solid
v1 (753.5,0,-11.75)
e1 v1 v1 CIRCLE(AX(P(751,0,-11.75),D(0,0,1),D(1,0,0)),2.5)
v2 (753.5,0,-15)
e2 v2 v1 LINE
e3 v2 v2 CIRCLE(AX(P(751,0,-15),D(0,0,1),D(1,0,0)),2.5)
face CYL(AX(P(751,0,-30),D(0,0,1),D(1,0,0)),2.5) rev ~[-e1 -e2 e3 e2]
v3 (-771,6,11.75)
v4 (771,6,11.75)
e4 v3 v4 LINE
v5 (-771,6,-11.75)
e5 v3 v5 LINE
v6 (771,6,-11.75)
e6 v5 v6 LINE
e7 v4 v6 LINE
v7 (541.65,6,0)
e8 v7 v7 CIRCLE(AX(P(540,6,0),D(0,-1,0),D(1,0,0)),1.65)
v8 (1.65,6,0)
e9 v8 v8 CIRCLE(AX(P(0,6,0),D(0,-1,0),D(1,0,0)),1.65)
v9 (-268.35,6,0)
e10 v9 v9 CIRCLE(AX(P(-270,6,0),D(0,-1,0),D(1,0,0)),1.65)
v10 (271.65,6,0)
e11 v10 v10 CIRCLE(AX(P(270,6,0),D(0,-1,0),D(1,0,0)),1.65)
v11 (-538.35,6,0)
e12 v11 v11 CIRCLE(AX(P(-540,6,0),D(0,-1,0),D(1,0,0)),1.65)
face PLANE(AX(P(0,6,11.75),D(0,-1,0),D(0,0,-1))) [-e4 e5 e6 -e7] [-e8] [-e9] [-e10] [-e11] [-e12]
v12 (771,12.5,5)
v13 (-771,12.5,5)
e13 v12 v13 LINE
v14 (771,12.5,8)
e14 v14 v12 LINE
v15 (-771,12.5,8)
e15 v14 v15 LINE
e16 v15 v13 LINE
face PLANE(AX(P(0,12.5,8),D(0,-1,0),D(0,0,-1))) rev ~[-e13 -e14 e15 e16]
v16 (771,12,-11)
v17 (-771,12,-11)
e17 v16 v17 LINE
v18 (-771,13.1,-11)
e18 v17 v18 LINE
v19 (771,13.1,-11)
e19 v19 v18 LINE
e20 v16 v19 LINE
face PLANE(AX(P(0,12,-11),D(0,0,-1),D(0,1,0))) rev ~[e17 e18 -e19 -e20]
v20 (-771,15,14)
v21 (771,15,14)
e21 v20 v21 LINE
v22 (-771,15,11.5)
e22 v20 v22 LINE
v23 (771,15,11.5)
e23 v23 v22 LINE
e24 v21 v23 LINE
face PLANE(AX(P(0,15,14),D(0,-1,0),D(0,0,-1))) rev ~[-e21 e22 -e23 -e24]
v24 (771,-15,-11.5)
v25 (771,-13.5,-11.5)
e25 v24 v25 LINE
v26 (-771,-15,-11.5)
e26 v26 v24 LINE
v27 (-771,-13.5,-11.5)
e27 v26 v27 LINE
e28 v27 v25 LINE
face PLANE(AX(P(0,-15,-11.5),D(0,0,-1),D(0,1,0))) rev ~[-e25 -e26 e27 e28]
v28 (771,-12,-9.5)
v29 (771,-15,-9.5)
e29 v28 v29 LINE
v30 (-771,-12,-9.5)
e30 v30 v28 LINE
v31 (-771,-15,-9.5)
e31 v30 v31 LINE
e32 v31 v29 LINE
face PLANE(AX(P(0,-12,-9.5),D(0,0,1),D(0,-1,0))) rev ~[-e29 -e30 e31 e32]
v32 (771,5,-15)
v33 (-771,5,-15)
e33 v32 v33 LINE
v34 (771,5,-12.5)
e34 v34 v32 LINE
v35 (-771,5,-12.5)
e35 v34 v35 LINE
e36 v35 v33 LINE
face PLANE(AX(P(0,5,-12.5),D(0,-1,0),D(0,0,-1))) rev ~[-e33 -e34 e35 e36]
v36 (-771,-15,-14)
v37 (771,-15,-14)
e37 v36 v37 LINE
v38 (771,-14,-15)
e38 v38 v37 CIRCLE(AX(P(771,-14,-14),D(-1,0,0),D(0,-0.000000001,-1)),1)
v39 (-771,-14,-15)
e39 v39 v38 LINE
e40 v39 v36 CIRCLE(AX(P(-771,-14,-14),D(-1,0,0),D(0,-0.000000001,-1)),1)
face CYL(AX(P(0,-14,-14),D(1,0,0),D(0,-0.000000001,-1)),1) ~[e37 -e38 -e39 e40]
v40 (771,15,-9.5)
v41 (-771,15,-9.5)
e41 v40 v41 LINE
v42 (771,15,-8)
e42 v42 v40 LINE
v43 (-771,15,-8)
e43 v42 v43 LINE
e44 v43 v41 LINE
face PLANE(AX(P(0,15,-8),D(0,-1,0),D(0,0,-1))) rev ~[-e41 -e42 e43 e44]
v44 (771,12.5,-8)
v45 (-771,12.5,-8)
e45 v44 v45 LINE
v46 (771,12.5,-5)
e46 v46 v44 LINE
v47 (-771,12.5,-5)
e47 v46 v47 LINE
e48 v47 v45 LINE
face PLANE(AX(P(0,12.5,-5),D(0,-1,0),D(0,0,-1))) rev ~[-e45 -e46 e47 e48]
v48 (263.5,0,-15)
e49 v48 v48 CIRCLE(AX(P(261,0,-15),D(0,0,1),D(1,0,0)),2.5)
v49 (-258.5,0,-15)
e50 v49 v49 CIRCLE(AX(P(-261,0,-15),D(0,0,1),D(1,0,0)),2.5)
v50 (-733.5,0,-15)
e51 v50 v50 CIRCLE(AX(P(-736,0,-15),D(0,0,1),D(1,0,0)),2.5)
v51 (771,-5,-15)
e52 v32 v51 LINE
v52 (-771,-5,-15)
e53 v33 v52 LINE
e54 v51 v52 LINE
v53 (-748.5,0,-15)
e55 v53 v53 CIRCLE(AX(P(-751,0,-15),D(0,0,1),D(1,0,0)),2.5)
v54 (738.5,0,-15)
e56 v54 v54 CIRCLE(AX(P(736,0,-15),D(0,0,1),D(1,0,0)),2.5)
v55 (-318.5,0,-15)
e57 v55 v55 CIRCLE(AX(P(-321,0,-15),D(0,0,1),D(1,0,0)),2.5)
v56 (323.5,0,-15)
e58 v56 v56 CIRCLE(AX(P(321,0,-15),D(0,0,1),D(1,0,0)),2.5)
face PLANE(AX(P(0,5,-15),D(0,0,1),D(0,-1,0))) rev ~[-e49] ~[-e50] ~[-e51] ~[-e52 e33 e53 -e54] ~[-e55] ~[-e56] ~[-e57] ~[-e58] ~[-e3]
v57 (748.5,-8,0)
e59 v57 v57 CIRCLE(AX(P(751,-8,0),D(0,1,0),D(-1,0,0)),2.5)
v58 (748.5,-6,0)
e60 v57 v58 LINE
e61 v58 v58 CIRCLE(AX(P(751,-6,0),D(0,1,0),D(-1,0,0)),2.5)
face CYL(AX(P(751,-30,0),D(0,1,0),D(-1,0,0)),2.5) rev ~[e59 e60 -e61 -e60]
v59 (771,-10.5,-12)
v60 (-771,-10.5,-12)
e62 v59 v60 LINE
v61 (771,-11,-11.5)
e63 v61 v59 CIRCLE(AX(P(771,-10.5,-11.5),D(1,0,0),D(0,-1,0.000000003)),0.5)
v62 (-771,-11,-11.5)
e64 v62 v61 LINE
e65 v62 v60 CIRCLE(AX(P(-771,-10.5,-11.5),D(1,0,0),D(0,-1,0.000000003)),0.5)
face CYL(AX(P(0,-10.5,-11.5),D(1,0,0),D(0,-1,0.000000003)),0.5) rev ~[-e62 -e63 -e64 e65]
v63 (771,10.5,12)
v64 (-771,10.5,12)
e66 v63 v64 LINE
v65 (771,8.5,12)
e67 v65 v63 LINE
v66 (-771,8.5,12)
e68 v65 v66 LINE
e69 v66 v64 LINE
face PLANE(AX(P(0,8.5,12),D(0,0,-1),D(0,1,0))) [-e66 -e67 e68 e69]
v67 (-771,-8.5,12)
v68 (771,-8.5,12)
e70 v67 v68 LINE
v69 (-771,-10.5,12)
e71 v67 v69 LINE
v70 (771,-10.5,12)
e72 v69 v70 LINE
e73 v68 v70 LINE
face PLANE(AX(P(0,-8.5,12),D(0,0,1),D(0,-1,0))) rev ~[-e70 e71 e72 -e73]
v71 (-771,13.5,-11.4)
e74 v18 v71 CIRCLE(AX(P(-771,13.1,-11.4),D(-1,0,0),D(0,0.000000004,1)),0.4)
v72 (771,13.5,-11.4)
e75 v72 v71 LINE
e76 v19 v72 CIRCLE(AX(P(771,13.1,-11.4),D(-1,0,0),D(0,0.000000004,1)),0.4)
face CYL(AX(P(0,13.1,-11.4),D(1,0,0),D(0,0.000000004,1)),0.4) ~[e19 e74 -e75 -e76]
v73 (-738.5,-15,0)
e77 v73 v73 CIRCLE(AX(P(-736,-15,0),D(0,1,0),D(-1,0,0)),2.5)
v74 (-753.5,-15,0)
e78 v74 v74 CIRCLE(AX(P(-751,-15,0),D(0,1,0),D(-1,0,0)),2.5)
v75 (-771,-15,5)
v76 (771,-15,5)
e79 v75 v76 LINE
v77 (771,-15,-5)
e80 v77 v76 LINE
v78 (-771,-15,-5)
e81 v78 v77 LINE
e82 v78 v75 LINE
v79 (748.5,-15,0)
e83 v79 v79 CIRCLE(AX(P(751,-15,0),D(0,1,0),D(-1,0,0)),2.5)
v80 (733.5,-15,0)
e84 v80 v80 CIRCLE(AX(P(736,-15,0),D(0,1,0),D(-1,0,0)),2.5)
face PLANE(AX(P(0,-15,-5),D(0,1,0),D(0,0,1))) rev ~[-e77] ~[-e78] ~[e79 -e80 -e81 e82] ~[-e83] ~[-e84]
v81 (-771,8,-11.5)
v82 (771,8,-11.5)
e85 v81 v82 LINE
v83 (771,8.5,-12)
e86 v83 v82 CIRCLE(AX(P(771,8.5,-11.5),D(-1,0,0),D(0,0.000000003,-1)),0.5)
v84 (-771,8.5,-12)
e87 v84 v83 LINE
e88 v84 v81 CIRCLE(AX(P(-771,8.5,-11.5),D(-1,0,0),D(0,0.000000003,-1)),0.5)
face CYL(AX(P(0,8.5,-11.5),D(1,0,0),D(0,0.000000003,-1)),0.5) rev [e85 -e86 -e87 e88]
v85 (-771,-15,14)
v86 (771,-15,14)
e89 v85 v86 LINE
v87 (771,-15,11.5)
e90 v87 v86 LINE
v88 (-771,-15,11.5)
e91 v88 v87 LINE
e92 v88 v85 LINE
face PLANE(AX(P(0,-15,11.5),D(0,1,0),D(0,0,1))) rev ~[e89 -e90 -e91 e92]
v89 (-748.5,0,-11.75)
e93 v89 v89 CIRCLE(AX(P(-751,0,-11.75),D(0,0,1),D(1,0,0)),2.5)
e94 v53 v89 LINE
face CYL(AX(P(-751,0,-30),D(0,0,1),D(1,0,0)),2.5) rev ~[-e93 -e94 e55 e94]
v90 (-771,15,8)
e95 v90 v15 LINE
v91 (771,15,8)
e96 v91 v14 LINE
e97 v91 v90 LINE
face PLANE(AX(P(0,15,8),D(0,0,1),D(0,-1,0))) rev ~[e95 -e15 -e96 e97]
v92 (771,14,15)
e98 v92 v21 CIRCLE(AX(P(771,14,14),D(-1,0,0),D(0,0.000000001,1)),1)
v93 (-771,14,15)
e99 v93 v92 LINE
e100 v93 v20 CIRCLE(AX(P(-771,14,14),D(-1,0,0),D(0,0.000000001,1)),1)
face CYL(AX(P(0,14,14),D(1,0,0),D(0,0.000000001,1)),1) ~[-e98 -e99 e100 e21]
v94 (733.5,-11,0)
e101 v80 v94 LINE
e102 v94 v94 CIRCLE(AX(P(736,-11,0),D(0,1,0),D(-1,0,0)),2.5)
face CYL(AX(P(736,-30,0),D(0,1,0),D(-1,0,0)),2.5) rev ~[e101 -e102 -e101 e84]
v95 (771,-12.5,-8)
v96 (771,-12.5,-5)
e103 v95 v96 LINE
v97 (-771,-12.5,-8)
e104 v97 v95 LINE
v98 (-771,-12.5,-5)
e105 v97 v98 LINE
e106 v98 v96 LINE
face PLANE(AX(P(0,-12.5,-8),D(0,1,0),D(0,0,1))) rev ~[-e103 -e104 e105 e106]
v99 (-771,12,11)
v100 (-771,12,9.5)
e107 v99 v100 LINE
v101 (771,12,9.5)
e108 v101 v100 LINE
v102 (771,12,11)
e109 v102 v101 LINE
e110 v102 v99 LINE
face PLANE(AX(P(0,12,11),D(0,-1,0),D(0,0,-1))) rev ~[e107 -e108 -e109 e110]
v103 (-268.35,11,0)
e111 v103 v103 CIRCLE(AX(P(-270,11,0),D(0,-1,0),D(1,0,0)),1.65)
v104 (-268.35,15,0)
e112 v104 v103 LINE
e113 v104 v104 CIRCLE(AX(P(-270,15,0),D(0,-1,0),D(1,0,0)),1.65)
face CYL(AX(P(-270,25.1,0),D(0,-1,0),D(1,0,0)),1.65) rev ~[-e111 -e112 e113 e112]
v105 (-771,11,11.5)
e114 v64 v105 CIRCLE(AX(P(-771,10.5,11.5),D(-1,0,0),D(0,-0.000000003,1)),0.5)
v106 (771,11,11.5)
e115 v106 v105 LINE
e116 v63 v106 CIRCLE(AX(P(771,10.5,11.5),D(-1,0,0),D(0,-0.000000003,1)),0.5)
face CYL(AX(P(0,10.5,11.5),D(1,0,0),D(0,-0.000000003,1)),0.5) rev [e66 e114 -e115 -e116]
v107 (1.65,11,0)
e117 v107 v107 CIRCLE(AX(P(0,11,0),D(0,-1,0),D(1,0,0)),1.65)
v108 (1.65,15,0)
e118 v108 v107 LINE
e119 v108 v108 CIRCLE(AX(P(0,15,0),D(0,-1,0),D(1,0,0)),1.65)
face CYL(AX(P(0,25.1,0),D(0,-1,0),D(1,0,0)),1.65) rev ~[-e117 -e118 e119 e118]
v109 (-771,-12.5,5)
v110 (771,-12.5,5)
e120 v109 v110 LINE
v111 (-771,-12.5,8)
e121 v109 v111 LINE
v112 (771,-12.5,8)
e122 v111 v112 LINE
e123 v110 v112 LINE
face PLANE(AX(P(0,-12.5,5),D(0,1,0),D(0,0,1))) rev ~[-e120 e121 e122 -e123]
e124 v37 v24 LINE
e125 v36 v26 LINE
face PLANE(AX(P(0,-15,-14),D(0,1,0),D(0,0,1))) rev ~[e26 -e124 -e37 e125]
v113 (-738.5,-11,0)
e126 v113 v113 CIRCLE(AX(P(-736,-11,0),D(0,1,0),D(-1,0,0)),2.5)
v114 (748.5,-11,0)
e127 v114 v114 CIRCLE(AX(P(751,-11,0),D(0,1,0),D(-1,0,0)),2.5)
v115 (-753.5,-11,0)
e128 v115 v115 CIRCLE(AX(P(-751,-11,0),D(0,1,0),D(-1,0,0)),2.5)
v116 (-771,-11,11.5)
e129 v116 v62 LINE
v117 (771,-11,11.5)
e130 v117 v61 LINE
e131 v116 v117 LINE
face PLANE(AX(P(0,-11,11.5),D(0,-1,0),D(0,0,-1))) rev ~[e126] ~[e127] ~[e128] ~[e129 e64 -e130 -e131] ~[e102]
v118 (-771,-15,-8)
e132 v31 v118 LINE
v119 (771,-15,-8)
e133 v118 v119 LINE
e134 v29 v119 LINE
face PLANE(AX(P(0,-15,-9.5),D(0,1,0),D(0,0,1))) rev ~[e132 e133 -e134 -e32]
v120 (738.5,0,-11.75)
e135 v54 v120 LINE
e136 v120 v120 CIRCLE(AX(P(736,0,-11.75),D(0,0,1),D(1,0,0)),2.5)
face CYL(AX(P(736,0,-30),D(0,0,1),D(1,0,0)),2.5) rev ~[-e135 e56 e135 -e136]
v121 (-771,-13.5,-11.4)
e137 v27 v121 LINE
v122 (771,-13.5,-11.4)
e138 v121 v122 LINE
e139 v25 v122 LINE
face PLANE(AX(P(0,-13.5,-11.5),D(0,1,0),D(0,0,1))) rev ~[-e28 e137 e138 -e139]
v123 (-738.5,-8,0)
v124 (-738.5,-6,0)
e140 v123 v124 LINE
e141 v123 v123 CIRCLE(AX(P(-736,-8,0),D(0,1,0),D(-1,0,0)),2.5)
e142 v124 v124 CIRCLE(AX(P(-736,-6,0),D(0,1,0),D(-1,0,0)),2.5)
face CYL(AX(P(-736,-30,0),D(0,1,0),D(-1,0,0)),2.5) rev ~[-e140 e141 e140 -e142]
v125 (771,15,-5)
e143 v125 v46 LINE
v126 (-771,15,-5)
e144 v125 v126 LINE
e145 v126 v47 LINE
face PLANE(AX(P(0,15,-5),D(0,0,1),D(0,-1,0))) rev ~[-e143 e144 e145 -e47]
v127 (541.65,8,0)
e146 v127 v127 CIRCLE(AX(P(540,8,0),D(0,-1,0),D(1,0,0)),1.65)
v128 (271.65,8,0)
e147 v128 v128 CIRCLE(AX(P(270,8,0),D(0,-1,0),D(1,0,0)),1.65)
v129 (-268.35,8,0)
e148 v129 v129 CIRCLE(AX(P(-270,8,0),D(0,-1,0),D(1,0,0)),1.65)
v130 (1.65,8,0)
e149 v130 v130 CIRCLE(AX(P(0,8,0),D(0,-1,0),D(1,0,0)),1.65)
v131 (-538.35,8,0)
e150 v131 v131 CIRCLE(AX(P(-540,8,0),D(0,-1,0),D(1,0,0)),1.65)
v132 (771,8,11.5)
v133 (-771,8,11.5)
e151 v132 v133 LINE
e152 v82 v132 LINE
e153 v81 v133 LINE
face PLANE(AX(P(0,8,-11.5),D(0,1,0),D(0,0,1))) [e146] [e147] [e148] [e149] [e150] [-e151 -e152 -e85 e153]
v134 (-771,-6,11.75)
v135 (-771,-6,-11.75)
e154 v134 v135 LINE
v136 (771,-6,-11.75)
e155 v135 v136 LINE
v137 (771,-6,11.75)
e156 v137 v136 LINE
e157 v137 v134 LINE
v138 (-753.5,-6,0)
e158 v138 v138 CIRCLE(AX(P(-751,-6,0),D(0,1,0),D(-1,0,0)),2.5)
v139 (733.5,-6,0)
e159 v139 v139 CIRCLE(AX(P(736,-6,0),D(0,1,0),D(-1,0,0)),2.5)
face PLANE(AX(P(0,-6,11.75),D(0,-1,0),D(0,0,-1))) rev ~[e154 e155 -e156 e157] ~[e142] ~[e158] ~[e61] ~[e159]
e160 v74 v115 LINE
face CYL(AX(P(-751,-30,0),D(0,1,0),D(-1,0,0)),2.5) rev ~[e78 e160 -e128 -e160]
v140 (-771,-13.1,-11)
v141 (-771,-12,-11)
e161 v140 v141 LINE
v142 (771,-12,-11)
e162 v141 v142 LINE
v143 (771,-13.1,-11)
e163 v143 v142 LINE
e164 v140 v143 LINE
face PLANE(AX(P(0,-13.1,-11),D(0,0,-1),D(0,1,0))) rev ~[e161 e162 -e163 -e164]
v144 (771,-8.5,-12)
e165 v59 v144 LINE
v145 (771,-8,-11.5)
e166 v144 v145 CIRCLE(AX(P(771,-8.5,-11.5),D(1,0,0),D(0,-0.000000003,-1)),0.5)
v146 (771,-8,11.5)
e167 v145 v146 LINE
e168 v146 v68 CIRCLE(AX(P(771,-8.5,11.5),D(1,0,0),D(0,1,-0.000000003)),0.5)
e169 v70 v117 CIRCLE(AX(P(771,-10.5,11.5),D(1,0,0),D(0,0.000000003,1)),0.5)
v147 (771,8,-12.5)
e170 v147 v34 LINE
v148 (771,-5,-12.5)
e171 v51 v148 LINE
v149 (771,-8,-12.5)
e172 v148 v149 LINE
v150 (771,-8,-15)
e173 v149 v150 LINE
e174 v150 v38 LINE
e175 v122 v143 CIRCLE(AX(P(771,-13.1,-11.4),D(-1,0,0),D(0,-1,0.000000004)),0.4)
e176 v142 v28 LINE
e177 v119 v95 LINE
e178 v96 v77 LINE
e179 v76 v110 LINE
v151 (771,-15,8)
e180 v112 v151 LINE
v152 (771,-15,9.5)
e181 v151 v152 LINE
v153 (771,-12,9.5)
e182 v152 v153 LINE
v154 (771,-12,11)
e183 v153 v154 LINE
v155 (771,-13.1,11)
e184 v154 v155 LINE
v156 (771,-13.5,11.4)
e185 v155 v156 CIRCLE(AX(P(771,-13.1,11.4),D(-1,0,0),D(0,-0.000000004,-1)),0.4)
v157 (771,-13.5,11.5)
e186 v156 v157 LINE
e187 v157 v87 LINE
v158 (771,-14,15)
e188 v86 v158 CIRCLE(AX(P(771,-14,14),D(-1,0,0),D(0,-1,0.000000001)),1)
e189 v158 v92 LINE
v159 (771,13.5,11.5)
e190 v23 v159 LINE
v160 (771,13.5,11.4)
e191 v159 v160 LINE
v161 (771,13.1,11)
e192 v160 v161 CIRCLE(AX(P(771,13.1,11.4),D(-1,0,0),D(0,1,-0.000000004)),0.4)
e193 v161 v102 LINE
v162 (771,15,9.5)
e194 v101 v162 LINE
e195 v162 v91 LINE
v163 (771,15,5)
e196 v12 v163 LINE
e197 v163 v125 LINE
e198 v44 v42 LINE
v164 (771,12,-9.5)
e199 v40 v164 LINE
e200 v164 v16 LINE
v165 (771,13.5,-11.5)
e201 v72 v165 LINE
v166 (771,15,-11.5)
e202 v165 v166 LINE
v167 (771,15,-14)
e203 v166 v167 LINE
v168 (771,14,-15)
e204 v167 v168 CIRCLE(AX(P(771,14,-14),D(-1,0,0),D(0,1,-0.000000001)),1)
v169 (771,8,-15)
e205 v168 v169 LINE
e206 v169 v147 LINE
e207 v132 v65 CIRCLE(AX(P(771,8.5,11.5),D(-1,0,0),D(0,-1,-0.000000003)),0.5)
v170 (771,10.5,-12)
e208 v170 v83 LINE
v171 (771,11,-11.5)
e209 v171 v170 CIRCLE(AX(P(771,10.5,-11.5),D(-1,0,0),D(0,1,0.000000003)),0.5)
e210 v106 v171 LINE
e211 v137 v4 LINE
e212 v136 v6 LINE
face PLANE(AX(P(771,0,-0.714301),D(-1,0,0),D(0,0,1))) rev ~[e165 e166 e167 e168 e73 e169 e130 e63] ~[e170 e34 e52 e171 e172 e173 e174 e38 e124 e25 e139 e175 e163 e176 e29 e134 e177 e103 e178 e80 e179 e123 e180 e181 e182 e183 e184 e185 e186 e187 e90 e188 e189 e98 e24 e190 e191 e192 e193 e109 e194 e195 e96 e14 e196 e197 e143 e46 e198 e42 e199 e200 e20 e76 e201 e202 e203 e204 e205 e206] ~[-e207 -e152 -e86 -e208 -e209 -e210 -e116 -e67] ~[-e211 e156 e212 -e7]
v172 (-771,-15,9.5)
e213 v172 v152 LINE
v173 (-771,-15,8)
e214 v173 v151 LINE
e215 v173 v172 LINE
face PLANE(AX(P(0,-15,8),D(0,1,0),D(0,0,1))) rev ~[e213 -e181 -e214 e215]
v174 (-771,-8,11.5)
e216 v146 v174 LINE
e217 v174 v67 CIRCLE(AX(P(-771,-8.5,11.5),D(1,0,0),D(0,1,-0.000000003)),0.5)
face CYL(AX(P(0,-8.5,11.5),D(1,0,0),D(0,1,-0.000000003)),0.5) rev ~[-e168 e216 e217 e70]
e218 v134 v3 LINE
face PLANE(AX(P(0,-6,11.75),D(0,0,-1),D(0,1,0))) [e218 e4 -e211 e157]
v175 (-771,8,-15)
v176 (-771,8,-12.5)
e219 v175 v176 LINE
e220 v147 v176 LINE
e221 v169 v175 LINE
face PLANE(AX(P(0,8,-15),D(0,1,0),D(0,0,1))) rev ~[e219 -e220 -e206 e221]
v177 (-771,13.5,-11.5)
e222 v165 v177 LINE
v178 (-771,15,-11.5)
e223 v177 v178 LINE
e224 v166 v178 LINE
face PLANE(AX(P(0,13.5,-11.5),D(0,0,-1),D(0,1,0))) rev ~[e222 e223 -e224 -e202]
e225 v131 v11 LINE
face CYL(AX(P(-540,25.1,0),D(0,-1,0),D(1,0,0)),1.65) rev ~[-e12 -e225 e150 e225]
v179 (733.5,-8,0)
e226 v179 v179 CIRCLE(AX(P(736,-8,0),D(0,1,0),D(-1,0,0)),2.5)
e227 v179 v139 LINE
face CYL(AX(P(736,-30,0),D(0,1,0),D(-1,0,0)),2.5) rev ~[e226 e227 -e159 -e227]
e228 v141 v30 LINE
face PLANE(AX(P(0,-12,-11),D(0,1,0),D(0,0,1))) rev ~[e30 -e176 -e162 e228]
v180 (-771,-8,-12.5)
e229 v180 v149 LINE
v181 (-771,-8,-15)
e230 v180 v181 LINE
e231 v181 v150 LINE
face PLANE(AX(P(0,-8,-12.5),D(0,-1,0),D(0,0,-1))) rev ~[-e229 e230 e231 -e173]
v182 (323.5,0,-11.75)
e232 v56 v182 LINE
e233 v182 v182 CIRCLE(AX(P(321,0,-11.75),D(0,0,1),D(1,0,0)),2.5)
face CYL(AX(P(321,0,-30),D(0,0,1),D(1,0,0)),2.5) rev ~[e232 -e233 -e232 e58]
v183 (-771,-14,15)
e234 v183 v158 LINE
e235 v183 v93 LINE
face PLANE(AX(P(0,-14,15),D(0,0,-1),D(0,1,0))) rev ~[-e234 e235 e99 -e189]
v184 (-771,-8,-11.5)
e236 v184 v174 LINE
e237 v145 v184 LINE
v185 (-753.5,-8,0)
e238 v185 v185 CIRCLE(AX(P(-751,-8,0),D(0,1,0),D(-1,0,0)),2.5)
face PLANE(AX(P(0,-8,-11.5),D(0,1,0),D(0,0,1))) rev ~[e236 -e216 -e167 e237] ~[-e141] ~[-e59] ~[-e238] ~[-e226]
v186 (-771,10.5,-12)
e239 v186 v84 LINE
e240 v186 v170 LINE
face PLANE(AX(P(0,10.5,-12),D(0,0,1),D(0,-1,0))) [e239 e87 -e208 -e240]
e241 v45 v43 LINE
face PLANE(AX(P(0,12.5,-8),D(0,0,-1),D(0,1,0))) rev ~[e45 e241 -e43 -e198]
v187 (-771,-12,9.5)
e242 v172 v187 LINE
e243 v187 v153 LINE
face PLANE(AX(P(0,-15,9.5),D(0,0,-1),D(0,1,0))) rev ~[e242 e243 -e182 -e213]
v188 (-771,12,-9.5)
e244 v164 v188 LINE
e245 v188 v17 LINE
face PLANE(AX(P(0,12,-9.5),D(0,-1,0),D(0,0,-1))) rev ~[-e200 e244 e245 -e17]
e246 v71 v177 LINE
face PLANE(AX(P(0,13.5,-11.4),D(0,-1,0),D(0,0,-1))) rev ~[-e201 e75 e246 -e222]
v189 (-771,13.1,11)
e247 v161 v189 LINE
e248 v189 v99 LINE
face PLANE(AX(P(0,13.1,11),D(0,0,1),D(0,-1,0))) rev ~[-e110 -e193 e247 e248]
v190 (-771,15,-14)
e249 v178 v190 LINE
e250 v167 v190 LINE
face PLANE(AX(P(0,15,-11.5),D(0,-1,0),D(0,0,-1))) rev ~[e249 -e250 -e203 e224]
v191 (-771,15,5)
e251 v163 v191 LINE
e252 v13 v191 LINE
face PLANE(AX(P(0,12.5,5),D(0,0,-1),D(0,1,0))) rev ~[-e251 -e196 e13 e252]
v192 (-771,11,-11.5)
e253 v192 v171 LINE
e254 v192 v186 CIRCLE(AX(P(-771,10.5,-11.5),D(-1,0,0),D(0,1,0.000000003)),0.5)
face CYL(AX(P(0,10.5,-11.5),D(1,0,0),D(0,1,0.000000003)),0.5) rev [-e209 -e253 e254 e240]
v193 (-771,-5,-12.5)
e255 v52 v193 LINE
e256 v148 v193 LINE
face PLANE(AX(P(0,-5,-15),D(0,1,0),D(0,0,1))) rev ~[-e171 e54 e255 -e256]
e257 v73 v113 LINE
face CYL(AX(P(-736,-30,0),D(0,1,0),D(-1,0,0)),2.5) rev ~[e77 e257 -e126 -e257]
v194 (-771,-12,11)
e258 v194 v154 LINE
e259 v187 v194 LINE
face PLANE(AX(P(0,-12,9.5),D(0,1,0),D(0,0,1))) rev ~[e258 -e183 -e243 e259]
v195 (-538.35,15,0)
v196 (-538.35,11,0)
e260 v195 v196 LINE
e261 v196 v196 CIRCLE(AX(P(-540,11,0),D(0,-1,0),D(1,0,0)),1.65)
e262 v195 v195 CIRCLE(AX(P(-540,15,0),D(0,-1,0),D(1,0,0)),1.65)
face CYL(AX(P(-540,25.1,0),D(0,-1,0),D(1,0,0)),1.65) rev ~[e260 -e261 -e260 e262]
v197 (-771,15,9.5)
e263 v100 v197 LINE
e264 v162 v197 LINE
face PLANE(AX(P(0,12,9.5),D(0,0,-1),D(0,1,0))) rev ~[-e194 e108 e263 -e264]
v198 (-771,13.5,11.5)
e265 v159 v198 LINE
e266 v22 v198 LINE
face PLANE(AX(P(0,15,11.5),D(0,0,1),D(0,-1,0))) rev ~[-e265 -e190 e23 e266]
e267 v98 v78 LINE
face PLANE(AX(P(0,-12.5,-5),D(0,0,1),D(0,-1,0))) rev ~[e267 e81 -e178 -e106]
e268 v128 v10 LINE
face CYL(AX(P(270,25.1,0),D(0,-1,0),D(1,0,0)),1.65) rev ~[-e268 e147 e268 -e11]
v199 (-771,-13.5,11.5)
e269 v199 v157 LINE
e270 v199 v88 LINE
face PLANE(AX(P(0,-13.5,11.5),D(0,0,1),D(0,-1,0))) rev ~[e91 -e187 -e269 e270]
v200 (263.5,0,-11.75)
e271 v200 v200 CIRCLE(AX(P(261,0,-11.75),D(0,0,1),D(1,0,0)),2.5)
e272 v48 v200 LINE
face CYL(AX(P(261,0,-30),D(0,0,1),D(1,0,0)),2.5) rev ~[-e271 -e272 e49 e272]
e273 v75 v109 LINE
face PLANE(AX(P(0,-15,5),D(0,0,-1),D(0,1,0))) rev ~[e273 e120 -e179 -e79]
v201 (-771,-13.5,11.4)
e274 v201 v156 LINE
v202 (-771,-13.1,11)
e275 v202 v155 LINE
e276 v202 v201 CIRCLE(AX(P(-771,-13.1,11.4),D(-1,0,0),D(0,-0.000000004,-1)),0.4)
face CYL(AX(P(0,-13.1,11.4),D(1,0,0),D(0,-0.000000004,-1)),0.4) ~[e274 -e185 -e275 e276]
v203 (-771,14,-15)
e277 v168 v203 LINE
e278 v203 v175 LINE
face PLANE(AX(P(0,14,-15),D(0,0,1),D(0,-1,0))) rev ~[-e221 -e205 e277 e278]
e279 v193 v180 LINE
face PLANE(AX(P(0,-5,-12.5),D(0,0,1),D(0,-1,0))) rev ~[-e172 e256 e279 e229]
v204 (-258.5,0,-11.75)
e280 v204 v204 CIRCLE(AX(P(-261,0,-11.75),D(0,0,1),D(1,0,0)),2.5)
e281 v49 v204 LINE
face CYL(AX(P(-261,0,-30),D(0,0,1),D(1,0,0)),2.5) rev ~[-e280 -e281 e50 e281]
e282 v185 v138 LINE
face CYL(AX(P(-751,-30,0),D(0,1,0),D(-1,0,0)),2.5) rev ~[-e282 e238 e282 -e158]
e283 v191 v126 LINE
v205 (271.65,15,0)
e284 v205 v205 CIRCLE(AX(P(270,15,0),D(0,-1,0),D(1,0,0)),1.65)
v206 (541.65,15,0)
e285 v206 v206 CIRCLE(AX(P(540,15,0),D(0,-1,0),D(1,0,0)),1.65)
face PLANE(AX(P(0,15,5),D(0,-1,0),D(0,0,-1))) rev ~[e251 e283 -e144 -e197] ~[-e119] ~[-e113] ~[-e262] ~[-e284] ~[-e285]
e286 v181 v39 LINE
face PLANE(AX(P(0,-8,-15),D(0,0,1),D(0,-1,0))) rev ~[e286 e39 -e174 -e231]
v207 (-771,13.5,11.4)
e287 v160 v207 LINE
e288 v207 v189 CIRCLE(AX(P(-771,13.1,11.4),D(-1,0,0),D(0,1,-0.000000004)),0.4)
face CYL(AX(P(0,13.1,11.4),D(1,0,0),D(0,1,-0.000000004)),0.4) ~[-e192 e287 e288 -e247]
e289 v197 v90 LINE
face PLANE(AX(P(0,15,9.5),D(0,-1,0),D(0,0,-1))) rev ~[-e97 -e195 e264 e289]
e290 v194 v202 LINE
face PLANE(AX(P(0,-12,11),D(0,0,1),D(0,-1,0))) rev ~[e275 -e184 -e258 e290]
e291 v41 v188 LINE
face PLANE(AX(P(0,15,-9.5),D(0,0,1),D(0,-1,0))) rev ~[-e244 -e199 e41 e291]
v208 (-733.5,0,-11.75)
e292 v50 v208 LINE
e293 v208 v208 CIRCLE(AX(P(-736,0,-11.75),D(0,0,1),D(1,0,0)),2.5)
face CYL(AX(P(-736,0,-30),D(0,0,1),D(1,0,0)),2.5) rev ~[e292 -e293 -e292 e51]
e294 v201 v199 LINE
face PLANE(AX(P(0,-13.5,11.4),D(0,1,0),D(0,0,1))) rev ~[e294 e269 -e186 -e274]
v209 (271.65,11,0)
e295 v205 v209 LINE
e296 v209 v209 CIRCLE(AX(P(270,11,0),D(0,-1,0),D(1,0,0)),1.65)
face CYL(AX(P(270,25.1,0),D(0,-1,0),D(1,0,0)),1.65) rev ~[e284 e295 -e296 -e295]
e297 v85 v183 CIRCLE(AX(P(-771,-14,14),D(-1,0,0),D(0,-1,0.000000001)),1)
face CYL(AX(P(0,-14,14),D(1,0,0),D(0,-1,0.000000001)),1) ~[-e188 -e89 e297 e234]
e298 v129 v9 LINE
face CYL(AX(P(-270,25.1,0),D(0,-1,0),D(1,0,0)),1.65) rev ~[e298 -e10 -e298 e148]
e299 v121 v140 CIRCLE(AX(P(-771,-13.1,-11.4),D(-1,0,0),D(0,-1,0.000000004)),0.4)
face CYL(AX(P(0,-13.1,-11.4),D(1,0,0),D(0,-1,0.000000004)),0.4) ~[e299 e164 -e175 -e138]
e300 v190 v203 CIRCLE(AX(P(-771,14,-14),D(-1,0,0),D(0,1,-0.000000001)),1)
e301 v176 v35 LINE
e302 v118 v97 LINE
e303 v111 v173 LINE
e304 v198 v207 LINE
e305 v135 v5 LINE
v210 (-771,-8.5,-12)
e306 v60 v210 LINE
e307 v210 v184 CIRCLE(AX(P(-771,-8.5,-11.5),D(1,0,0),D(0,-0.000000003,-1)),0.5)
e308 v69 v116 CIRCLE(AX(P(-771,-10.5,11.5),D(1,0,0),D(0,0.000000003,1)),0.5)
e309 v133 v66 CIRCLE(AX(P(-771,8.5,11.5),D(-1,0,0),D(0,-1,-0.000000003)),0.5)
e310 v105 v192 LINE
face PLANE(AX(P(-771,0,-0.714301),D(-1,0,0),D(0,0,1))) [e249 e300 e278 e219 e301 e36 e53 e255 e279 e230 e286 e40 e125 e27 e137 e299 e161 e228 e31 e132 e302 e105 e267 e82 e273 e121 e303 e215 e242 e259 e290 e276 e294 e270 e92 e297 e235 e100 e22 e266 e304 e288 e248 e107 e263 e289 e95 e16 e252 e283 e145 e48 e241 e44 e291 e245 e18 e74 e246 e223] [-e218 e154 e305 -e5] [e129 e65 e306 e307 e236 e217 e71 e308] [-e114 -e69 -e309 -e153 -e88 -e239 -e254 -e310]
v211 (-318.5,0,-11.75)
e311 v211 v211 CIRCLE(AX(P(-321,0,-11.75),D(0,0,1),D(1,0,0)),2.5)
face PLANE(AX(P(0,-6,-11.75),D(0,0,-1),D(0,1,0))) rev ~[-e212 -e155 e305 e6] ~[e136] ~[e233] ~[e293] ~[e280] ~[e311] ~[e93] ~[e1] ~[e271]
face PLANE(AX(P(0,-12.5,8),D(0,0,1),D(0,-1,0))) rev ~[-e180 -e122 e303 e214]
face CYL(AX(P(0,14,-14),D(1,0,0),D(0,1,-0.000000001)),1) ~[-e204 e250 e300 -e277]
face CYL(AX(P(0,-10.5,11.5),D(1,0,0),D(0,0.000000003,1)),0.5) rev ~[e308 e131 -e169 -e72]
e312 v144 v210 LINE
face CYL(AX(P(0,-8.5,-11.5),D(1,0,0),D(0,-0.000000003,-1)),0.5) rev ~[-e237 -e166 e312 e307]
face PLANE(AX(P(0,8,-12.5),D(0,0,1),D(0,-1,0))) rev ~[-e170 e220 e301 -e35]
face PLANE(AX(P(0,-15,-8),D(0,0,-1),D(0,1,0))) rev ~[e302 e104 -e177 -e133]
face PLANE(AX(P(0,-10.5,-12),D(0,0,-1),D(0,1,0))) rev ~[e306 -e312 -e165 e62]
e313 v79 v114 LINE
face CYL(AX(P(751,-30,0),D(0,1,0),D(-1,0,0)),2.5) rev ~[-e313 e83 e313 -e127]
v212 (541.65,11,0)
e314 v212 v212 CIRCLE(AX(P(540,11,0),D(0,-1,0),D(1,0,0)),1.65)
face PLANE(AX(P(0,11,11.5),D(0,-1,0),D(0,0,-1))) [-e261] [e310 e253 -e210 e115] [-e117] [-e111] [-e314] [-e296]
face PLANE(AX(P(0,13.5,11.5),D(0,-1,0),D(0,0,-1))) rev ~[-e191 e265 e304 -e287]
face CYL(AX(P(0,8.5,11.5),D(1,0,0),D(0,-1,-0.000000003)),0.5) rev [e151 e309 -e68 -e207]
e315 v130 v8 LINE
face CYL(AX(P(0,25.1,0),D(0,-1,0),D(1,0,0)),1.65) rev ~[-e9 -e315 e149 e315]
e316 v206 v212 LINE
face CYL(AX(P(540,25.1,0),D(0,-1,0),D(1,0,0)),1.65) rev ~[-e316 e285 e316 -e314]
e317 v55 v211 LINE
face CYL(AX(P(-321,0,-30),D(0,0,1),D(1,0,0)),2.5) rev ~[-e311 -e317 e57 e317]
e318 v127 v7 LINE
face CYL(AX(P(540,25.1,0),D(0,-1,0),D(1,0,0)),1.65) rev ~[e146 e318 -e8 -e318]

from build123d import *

# Parameters (mm, degrees)
SKETCH_1_W             = 23.5
SKETCH_1_H             = 12
EXTRUDE_1_DEPTH        = 771
HOLE_WIZARD_M6_1_D     = 5
HOLE_WIZARD_M6_1_DEPTH = 15
HOLE_WIZARD_M6_1_TIP   = 1.502151548
HOLE_WIZARD_M6_2_D     = 5
HOLE_WIZARD_M6_2_DEPTH = 15
HOLE_WIZARD_M6_2_TIP   = 1.502151548
HOLE_WIZARD_M4_1_D     = 3.3
HOLE_WIZARD_M4_1_DEPTH = 10.1
HOLE_WIZARD_M4_1_TIP   = 0.991420021
HOLE_WIZARD_M6_3_D     = 5
HOLE_WIZARD_M6_3_DEPTH = 15
HOLE_WIZARD_M6_3_TIP   = 1.502151548


with BuildPart() as part:
    # 草图1 → 凸台-拉伸1 (new, symmetric)
    with BuildSketch(Plane(origin=(0, 0, 0), x_dir=(0, 0, -1), z_dir=(1, 0, 0))):
        with BuildLine():
            Line((-14, 15), (-11.5, 15))
            Line((-11.5, 15), (-11.5, 13.5))
            Line((-11.5, 13.5), (-11.4, 13.5))
            ThreePointArc((-11.4, 13.5), (-11.117157288, 13.382842712), (-11, 13.1))
            Line((-11, 13.1), (-11, 12))
            Line((-11, 12), (-9.5, 12))
            Line((-9.5, 12), (-9.5, 15))
            Line((-9.5, 15), (-8, 15))
            Line((-8, 15), (-8, 12.5))
            Line((-8, 12.5), (-5, 12.5))
            Line((-5, 12.5), (-5, 15))
            Line((-5, 15), (5, 15))
            Line((5, 15), (5, 12.5))
            Line((5, 12.5), (8, 12.5))
            Line((8, 12.5), (8, 15))
            Line((8, 15), (9.5, 15))
            Line((9.5, 15), (9.5, 12))
            Line((9.5, 12), (11, 12))
            Line((11, 12), (11, 13.1))
            ThreePointArc((11, 13.1), (11.117157288, 13.382842712), (11.4, 13.5))
            Line((11.4, 13.5), (11.5, 13.5))
            Line((11.5, 13.5), (11.5, 15))
            Line((11.5, 15), (14, 15))
            ThreePointArc((14, 15), (14.707106781, 14.707106781), (15, 14))
            Line((15, 14), (15, 8))
            Line((15, 8), (12.5, 8))
            Line((12.5, 8), (12.5, 5))
            Line((12.5, 5), (15, 5))
            Line((15, 5), (15, -5))
            Line((15, -5), (12.5, -5))
            Line((12.5, -5), (12.5, -8))
            Line((12.5, -8), (15, -8))
            Line((15, -8), (15, -14))
            ThreePointArc((15, -14), (14.707106781, -14.707106781), (14, -15))
            Line((14, -15), (11.5, -15))
            Line((11.5, -15), (11.5, -13.5))
            Line((11.5, -13.5), (11.4, -13.5))
            ThreePointArc((11.4, -13.5), (11.117157288, -13.382842712), (11, -13.1))
            Line((11, -13.1), (11, -12))
            Line((11, -12), (9.5, -12))
            Line((9.5, -12), (9.5, -15))
            Line((9.5, -15), (8, -15))
            Line((8, -15), (8, -12.5))
            Line((8, -12.5), (5, -12.5))
            Line((5, -12.5), (5, -15))
            Line((5, -15), (-5, -15))
            Line((-5, -15), (-5, -12.5))
            Line((-5, -12.5), (-8, -12.5))
            Line((-8, -12.5), (-8, -15))
            Line((-8, -15), (-9.5, -15))
            Line((-9.5, -15), (-9.5, -12))
            Line((-9.5, -12), (-11, -12))
            Line((-11, -12), (-11, -13.1))
            ThreePointArc((-11, -13.1), (-11.117157288, -13.382842712), (-11.4, -13.5))
            Line((-11.4, -13.5), (-11.5, -13.5))
            Line((-11.5, -13.5), (-11.5, -15))
            Line((-11.5, -15), (-14, -15))
            ThreePointArc((-14, -15), (-14.707106781, -14.707106781), (-15, -14))
            Line((-15, -14), (-15, 14))
            ThreePointArc((-15, 14), (-14.707106781, 14.707106781), (-14, 15))
        make_face()
        with BuildLine():
            Line((12, -10.5), (12, -8.5))
            ThreePointArc((12, -8.5), (11.853553391, -8.146446609), (11.5, -8))
            Line((11.5, -8), (-11.5, -8))
            ThreePointArc((-11.5, -8), (-11.853553391, -8.146446609), (-12, -8.5))
            Line((-12, -8.5), (-12, -10.5))
            ThreePointArc((-12, -10.5), (-11.853553391, -10.853553391), (-11.5, -11))
            Line((-11.5, -11), (11.5, -11))
            ThreePointArc((11.5, -11), (11.853553391, -10.853553391), (12, -10.5))
        make_face(mode=Mode.SUBTRACT)
        with BuildLine():
            Line((-11.5, 11), (11.5, 11))
            ThreePointArc((11.5, 11), (11.853553391, 10.853553391), (12, 10.5))
            Line((12, 10.5), (12, 8.5))
            ThreePointArc((12, 8.5), (11.853553391, 8.146446609), (11.5, 8))
            Line((11.5, 8), (-11.5, 8))
            ThreePointArc((-11.5, 8), (-11.853553391, 8.146446609), (-12, 8.5))
            Line((-12, 8.5), (-12, 10.5))
            ThreePointArc((-12, 10.5), (-11.853553391, 10.853553391), (-11.5, 11))
        make_face(mode=Mode.SUBTRACT)
        Rectangle(SKETCH_1_W, SKETCH_1_H, mode=Mode.SUBTRACT)
    extrude(amount=EXTRUDE_1_DEPTH, both=True)

    # M6 螺纹孔1
    with Locations(Plane.XZ.offset(15)):
        with Locations((-751, 0), (-736, 0), (736, 0), (751, 0)):
            Hole(HOLE_WIZARD_M6_1_D / 2, depth=HOLE_WIZARD_M6_1_DEPTH)
            with Locations((0, 0, -(HOLE_WIZARD_M6_1_DEPTH + HOLE_WIZARD_M6_1_TIP / 2))):  # 118° drill point
                Cone(0, HOLE_WIZARD_M6_1_D / 2, HOLE_WIZARD_M6_1_TIP, mode=Mode.SUBTRACT)

    # M6 螺纹孔2
    with Locations(Plane(origin=(0, 0, -15), x_dir=(-1, 0, 0), z_dir=(0, 0, -1))):
        with Locations((-751, 0), (-736, 0), (736, 0), (751, 0)):
            Hole(HOLE_WIZARD_M6_2_D / 2, depth=HOLE_WIZARD_M6_2_DEPTH)
            with Locations((0, 0, -(HOLE_WIZARD_M6_2_DEPTH + HOLE_WIZARD_M6_2_TIP / 2))):  # 118° drill point
                Cone(0, HOLE_WIZARD_M6_2_D / 2, HOLE_WIZARD_M6_2_TIP, mode=Mode.SUBTRACT)

    # M4 螺纹孔1
    with Locations(Plane(origin=(0, 15, 0), x_dir=(-1, 0, 0), z_dir=(0, 1, 0))):
        with Locations((-540, 0), (-270, 0), (0, 0), (270, 0), (540, 0)):
            Hole(HOLE_WIZARD_M4_1_D / 2, depth=HOLE_WIZARD_M4_1_DEPTH)
            with Locations((0, 0, -(HOLE_WIZARD_M4_1_DEPTH + HOLE_WIZARD_M4_1_TIP / 2))):  # 118° drill point
                Cone(0, HOLE_WIZARD_M4_1_D / 2, HOLE_WIZARD_M4_1_TIP, mode=Mode.SUBTRACT)

    # M6 螺纹孔3
    with Locations(Plane(origin=(0, 0, -15), x_dir=(-1, 0, 0), z_dir=(0, 0, -1))):
        with Locations((321, 0), (261, 0), (-261, 0), (-321, 0)):
            Hole(HOLE_WIZARD_M6_3_D / 2, depth=HOLE_WIZARD_M6_3_DEPTH)
            with Locations((0, 0, -(HOLE_WIZARD_M6_3_DEPTH + HOLE_WIZARD_M6_3_TIP / 2))):  # 118° drill point
                Cone(0, HOLE_WIZARD_M6_3_D / 2, HOLE_WIZARD_M6_3_TIP, mode=Mode.SUBTRACT)


solid = part.part
